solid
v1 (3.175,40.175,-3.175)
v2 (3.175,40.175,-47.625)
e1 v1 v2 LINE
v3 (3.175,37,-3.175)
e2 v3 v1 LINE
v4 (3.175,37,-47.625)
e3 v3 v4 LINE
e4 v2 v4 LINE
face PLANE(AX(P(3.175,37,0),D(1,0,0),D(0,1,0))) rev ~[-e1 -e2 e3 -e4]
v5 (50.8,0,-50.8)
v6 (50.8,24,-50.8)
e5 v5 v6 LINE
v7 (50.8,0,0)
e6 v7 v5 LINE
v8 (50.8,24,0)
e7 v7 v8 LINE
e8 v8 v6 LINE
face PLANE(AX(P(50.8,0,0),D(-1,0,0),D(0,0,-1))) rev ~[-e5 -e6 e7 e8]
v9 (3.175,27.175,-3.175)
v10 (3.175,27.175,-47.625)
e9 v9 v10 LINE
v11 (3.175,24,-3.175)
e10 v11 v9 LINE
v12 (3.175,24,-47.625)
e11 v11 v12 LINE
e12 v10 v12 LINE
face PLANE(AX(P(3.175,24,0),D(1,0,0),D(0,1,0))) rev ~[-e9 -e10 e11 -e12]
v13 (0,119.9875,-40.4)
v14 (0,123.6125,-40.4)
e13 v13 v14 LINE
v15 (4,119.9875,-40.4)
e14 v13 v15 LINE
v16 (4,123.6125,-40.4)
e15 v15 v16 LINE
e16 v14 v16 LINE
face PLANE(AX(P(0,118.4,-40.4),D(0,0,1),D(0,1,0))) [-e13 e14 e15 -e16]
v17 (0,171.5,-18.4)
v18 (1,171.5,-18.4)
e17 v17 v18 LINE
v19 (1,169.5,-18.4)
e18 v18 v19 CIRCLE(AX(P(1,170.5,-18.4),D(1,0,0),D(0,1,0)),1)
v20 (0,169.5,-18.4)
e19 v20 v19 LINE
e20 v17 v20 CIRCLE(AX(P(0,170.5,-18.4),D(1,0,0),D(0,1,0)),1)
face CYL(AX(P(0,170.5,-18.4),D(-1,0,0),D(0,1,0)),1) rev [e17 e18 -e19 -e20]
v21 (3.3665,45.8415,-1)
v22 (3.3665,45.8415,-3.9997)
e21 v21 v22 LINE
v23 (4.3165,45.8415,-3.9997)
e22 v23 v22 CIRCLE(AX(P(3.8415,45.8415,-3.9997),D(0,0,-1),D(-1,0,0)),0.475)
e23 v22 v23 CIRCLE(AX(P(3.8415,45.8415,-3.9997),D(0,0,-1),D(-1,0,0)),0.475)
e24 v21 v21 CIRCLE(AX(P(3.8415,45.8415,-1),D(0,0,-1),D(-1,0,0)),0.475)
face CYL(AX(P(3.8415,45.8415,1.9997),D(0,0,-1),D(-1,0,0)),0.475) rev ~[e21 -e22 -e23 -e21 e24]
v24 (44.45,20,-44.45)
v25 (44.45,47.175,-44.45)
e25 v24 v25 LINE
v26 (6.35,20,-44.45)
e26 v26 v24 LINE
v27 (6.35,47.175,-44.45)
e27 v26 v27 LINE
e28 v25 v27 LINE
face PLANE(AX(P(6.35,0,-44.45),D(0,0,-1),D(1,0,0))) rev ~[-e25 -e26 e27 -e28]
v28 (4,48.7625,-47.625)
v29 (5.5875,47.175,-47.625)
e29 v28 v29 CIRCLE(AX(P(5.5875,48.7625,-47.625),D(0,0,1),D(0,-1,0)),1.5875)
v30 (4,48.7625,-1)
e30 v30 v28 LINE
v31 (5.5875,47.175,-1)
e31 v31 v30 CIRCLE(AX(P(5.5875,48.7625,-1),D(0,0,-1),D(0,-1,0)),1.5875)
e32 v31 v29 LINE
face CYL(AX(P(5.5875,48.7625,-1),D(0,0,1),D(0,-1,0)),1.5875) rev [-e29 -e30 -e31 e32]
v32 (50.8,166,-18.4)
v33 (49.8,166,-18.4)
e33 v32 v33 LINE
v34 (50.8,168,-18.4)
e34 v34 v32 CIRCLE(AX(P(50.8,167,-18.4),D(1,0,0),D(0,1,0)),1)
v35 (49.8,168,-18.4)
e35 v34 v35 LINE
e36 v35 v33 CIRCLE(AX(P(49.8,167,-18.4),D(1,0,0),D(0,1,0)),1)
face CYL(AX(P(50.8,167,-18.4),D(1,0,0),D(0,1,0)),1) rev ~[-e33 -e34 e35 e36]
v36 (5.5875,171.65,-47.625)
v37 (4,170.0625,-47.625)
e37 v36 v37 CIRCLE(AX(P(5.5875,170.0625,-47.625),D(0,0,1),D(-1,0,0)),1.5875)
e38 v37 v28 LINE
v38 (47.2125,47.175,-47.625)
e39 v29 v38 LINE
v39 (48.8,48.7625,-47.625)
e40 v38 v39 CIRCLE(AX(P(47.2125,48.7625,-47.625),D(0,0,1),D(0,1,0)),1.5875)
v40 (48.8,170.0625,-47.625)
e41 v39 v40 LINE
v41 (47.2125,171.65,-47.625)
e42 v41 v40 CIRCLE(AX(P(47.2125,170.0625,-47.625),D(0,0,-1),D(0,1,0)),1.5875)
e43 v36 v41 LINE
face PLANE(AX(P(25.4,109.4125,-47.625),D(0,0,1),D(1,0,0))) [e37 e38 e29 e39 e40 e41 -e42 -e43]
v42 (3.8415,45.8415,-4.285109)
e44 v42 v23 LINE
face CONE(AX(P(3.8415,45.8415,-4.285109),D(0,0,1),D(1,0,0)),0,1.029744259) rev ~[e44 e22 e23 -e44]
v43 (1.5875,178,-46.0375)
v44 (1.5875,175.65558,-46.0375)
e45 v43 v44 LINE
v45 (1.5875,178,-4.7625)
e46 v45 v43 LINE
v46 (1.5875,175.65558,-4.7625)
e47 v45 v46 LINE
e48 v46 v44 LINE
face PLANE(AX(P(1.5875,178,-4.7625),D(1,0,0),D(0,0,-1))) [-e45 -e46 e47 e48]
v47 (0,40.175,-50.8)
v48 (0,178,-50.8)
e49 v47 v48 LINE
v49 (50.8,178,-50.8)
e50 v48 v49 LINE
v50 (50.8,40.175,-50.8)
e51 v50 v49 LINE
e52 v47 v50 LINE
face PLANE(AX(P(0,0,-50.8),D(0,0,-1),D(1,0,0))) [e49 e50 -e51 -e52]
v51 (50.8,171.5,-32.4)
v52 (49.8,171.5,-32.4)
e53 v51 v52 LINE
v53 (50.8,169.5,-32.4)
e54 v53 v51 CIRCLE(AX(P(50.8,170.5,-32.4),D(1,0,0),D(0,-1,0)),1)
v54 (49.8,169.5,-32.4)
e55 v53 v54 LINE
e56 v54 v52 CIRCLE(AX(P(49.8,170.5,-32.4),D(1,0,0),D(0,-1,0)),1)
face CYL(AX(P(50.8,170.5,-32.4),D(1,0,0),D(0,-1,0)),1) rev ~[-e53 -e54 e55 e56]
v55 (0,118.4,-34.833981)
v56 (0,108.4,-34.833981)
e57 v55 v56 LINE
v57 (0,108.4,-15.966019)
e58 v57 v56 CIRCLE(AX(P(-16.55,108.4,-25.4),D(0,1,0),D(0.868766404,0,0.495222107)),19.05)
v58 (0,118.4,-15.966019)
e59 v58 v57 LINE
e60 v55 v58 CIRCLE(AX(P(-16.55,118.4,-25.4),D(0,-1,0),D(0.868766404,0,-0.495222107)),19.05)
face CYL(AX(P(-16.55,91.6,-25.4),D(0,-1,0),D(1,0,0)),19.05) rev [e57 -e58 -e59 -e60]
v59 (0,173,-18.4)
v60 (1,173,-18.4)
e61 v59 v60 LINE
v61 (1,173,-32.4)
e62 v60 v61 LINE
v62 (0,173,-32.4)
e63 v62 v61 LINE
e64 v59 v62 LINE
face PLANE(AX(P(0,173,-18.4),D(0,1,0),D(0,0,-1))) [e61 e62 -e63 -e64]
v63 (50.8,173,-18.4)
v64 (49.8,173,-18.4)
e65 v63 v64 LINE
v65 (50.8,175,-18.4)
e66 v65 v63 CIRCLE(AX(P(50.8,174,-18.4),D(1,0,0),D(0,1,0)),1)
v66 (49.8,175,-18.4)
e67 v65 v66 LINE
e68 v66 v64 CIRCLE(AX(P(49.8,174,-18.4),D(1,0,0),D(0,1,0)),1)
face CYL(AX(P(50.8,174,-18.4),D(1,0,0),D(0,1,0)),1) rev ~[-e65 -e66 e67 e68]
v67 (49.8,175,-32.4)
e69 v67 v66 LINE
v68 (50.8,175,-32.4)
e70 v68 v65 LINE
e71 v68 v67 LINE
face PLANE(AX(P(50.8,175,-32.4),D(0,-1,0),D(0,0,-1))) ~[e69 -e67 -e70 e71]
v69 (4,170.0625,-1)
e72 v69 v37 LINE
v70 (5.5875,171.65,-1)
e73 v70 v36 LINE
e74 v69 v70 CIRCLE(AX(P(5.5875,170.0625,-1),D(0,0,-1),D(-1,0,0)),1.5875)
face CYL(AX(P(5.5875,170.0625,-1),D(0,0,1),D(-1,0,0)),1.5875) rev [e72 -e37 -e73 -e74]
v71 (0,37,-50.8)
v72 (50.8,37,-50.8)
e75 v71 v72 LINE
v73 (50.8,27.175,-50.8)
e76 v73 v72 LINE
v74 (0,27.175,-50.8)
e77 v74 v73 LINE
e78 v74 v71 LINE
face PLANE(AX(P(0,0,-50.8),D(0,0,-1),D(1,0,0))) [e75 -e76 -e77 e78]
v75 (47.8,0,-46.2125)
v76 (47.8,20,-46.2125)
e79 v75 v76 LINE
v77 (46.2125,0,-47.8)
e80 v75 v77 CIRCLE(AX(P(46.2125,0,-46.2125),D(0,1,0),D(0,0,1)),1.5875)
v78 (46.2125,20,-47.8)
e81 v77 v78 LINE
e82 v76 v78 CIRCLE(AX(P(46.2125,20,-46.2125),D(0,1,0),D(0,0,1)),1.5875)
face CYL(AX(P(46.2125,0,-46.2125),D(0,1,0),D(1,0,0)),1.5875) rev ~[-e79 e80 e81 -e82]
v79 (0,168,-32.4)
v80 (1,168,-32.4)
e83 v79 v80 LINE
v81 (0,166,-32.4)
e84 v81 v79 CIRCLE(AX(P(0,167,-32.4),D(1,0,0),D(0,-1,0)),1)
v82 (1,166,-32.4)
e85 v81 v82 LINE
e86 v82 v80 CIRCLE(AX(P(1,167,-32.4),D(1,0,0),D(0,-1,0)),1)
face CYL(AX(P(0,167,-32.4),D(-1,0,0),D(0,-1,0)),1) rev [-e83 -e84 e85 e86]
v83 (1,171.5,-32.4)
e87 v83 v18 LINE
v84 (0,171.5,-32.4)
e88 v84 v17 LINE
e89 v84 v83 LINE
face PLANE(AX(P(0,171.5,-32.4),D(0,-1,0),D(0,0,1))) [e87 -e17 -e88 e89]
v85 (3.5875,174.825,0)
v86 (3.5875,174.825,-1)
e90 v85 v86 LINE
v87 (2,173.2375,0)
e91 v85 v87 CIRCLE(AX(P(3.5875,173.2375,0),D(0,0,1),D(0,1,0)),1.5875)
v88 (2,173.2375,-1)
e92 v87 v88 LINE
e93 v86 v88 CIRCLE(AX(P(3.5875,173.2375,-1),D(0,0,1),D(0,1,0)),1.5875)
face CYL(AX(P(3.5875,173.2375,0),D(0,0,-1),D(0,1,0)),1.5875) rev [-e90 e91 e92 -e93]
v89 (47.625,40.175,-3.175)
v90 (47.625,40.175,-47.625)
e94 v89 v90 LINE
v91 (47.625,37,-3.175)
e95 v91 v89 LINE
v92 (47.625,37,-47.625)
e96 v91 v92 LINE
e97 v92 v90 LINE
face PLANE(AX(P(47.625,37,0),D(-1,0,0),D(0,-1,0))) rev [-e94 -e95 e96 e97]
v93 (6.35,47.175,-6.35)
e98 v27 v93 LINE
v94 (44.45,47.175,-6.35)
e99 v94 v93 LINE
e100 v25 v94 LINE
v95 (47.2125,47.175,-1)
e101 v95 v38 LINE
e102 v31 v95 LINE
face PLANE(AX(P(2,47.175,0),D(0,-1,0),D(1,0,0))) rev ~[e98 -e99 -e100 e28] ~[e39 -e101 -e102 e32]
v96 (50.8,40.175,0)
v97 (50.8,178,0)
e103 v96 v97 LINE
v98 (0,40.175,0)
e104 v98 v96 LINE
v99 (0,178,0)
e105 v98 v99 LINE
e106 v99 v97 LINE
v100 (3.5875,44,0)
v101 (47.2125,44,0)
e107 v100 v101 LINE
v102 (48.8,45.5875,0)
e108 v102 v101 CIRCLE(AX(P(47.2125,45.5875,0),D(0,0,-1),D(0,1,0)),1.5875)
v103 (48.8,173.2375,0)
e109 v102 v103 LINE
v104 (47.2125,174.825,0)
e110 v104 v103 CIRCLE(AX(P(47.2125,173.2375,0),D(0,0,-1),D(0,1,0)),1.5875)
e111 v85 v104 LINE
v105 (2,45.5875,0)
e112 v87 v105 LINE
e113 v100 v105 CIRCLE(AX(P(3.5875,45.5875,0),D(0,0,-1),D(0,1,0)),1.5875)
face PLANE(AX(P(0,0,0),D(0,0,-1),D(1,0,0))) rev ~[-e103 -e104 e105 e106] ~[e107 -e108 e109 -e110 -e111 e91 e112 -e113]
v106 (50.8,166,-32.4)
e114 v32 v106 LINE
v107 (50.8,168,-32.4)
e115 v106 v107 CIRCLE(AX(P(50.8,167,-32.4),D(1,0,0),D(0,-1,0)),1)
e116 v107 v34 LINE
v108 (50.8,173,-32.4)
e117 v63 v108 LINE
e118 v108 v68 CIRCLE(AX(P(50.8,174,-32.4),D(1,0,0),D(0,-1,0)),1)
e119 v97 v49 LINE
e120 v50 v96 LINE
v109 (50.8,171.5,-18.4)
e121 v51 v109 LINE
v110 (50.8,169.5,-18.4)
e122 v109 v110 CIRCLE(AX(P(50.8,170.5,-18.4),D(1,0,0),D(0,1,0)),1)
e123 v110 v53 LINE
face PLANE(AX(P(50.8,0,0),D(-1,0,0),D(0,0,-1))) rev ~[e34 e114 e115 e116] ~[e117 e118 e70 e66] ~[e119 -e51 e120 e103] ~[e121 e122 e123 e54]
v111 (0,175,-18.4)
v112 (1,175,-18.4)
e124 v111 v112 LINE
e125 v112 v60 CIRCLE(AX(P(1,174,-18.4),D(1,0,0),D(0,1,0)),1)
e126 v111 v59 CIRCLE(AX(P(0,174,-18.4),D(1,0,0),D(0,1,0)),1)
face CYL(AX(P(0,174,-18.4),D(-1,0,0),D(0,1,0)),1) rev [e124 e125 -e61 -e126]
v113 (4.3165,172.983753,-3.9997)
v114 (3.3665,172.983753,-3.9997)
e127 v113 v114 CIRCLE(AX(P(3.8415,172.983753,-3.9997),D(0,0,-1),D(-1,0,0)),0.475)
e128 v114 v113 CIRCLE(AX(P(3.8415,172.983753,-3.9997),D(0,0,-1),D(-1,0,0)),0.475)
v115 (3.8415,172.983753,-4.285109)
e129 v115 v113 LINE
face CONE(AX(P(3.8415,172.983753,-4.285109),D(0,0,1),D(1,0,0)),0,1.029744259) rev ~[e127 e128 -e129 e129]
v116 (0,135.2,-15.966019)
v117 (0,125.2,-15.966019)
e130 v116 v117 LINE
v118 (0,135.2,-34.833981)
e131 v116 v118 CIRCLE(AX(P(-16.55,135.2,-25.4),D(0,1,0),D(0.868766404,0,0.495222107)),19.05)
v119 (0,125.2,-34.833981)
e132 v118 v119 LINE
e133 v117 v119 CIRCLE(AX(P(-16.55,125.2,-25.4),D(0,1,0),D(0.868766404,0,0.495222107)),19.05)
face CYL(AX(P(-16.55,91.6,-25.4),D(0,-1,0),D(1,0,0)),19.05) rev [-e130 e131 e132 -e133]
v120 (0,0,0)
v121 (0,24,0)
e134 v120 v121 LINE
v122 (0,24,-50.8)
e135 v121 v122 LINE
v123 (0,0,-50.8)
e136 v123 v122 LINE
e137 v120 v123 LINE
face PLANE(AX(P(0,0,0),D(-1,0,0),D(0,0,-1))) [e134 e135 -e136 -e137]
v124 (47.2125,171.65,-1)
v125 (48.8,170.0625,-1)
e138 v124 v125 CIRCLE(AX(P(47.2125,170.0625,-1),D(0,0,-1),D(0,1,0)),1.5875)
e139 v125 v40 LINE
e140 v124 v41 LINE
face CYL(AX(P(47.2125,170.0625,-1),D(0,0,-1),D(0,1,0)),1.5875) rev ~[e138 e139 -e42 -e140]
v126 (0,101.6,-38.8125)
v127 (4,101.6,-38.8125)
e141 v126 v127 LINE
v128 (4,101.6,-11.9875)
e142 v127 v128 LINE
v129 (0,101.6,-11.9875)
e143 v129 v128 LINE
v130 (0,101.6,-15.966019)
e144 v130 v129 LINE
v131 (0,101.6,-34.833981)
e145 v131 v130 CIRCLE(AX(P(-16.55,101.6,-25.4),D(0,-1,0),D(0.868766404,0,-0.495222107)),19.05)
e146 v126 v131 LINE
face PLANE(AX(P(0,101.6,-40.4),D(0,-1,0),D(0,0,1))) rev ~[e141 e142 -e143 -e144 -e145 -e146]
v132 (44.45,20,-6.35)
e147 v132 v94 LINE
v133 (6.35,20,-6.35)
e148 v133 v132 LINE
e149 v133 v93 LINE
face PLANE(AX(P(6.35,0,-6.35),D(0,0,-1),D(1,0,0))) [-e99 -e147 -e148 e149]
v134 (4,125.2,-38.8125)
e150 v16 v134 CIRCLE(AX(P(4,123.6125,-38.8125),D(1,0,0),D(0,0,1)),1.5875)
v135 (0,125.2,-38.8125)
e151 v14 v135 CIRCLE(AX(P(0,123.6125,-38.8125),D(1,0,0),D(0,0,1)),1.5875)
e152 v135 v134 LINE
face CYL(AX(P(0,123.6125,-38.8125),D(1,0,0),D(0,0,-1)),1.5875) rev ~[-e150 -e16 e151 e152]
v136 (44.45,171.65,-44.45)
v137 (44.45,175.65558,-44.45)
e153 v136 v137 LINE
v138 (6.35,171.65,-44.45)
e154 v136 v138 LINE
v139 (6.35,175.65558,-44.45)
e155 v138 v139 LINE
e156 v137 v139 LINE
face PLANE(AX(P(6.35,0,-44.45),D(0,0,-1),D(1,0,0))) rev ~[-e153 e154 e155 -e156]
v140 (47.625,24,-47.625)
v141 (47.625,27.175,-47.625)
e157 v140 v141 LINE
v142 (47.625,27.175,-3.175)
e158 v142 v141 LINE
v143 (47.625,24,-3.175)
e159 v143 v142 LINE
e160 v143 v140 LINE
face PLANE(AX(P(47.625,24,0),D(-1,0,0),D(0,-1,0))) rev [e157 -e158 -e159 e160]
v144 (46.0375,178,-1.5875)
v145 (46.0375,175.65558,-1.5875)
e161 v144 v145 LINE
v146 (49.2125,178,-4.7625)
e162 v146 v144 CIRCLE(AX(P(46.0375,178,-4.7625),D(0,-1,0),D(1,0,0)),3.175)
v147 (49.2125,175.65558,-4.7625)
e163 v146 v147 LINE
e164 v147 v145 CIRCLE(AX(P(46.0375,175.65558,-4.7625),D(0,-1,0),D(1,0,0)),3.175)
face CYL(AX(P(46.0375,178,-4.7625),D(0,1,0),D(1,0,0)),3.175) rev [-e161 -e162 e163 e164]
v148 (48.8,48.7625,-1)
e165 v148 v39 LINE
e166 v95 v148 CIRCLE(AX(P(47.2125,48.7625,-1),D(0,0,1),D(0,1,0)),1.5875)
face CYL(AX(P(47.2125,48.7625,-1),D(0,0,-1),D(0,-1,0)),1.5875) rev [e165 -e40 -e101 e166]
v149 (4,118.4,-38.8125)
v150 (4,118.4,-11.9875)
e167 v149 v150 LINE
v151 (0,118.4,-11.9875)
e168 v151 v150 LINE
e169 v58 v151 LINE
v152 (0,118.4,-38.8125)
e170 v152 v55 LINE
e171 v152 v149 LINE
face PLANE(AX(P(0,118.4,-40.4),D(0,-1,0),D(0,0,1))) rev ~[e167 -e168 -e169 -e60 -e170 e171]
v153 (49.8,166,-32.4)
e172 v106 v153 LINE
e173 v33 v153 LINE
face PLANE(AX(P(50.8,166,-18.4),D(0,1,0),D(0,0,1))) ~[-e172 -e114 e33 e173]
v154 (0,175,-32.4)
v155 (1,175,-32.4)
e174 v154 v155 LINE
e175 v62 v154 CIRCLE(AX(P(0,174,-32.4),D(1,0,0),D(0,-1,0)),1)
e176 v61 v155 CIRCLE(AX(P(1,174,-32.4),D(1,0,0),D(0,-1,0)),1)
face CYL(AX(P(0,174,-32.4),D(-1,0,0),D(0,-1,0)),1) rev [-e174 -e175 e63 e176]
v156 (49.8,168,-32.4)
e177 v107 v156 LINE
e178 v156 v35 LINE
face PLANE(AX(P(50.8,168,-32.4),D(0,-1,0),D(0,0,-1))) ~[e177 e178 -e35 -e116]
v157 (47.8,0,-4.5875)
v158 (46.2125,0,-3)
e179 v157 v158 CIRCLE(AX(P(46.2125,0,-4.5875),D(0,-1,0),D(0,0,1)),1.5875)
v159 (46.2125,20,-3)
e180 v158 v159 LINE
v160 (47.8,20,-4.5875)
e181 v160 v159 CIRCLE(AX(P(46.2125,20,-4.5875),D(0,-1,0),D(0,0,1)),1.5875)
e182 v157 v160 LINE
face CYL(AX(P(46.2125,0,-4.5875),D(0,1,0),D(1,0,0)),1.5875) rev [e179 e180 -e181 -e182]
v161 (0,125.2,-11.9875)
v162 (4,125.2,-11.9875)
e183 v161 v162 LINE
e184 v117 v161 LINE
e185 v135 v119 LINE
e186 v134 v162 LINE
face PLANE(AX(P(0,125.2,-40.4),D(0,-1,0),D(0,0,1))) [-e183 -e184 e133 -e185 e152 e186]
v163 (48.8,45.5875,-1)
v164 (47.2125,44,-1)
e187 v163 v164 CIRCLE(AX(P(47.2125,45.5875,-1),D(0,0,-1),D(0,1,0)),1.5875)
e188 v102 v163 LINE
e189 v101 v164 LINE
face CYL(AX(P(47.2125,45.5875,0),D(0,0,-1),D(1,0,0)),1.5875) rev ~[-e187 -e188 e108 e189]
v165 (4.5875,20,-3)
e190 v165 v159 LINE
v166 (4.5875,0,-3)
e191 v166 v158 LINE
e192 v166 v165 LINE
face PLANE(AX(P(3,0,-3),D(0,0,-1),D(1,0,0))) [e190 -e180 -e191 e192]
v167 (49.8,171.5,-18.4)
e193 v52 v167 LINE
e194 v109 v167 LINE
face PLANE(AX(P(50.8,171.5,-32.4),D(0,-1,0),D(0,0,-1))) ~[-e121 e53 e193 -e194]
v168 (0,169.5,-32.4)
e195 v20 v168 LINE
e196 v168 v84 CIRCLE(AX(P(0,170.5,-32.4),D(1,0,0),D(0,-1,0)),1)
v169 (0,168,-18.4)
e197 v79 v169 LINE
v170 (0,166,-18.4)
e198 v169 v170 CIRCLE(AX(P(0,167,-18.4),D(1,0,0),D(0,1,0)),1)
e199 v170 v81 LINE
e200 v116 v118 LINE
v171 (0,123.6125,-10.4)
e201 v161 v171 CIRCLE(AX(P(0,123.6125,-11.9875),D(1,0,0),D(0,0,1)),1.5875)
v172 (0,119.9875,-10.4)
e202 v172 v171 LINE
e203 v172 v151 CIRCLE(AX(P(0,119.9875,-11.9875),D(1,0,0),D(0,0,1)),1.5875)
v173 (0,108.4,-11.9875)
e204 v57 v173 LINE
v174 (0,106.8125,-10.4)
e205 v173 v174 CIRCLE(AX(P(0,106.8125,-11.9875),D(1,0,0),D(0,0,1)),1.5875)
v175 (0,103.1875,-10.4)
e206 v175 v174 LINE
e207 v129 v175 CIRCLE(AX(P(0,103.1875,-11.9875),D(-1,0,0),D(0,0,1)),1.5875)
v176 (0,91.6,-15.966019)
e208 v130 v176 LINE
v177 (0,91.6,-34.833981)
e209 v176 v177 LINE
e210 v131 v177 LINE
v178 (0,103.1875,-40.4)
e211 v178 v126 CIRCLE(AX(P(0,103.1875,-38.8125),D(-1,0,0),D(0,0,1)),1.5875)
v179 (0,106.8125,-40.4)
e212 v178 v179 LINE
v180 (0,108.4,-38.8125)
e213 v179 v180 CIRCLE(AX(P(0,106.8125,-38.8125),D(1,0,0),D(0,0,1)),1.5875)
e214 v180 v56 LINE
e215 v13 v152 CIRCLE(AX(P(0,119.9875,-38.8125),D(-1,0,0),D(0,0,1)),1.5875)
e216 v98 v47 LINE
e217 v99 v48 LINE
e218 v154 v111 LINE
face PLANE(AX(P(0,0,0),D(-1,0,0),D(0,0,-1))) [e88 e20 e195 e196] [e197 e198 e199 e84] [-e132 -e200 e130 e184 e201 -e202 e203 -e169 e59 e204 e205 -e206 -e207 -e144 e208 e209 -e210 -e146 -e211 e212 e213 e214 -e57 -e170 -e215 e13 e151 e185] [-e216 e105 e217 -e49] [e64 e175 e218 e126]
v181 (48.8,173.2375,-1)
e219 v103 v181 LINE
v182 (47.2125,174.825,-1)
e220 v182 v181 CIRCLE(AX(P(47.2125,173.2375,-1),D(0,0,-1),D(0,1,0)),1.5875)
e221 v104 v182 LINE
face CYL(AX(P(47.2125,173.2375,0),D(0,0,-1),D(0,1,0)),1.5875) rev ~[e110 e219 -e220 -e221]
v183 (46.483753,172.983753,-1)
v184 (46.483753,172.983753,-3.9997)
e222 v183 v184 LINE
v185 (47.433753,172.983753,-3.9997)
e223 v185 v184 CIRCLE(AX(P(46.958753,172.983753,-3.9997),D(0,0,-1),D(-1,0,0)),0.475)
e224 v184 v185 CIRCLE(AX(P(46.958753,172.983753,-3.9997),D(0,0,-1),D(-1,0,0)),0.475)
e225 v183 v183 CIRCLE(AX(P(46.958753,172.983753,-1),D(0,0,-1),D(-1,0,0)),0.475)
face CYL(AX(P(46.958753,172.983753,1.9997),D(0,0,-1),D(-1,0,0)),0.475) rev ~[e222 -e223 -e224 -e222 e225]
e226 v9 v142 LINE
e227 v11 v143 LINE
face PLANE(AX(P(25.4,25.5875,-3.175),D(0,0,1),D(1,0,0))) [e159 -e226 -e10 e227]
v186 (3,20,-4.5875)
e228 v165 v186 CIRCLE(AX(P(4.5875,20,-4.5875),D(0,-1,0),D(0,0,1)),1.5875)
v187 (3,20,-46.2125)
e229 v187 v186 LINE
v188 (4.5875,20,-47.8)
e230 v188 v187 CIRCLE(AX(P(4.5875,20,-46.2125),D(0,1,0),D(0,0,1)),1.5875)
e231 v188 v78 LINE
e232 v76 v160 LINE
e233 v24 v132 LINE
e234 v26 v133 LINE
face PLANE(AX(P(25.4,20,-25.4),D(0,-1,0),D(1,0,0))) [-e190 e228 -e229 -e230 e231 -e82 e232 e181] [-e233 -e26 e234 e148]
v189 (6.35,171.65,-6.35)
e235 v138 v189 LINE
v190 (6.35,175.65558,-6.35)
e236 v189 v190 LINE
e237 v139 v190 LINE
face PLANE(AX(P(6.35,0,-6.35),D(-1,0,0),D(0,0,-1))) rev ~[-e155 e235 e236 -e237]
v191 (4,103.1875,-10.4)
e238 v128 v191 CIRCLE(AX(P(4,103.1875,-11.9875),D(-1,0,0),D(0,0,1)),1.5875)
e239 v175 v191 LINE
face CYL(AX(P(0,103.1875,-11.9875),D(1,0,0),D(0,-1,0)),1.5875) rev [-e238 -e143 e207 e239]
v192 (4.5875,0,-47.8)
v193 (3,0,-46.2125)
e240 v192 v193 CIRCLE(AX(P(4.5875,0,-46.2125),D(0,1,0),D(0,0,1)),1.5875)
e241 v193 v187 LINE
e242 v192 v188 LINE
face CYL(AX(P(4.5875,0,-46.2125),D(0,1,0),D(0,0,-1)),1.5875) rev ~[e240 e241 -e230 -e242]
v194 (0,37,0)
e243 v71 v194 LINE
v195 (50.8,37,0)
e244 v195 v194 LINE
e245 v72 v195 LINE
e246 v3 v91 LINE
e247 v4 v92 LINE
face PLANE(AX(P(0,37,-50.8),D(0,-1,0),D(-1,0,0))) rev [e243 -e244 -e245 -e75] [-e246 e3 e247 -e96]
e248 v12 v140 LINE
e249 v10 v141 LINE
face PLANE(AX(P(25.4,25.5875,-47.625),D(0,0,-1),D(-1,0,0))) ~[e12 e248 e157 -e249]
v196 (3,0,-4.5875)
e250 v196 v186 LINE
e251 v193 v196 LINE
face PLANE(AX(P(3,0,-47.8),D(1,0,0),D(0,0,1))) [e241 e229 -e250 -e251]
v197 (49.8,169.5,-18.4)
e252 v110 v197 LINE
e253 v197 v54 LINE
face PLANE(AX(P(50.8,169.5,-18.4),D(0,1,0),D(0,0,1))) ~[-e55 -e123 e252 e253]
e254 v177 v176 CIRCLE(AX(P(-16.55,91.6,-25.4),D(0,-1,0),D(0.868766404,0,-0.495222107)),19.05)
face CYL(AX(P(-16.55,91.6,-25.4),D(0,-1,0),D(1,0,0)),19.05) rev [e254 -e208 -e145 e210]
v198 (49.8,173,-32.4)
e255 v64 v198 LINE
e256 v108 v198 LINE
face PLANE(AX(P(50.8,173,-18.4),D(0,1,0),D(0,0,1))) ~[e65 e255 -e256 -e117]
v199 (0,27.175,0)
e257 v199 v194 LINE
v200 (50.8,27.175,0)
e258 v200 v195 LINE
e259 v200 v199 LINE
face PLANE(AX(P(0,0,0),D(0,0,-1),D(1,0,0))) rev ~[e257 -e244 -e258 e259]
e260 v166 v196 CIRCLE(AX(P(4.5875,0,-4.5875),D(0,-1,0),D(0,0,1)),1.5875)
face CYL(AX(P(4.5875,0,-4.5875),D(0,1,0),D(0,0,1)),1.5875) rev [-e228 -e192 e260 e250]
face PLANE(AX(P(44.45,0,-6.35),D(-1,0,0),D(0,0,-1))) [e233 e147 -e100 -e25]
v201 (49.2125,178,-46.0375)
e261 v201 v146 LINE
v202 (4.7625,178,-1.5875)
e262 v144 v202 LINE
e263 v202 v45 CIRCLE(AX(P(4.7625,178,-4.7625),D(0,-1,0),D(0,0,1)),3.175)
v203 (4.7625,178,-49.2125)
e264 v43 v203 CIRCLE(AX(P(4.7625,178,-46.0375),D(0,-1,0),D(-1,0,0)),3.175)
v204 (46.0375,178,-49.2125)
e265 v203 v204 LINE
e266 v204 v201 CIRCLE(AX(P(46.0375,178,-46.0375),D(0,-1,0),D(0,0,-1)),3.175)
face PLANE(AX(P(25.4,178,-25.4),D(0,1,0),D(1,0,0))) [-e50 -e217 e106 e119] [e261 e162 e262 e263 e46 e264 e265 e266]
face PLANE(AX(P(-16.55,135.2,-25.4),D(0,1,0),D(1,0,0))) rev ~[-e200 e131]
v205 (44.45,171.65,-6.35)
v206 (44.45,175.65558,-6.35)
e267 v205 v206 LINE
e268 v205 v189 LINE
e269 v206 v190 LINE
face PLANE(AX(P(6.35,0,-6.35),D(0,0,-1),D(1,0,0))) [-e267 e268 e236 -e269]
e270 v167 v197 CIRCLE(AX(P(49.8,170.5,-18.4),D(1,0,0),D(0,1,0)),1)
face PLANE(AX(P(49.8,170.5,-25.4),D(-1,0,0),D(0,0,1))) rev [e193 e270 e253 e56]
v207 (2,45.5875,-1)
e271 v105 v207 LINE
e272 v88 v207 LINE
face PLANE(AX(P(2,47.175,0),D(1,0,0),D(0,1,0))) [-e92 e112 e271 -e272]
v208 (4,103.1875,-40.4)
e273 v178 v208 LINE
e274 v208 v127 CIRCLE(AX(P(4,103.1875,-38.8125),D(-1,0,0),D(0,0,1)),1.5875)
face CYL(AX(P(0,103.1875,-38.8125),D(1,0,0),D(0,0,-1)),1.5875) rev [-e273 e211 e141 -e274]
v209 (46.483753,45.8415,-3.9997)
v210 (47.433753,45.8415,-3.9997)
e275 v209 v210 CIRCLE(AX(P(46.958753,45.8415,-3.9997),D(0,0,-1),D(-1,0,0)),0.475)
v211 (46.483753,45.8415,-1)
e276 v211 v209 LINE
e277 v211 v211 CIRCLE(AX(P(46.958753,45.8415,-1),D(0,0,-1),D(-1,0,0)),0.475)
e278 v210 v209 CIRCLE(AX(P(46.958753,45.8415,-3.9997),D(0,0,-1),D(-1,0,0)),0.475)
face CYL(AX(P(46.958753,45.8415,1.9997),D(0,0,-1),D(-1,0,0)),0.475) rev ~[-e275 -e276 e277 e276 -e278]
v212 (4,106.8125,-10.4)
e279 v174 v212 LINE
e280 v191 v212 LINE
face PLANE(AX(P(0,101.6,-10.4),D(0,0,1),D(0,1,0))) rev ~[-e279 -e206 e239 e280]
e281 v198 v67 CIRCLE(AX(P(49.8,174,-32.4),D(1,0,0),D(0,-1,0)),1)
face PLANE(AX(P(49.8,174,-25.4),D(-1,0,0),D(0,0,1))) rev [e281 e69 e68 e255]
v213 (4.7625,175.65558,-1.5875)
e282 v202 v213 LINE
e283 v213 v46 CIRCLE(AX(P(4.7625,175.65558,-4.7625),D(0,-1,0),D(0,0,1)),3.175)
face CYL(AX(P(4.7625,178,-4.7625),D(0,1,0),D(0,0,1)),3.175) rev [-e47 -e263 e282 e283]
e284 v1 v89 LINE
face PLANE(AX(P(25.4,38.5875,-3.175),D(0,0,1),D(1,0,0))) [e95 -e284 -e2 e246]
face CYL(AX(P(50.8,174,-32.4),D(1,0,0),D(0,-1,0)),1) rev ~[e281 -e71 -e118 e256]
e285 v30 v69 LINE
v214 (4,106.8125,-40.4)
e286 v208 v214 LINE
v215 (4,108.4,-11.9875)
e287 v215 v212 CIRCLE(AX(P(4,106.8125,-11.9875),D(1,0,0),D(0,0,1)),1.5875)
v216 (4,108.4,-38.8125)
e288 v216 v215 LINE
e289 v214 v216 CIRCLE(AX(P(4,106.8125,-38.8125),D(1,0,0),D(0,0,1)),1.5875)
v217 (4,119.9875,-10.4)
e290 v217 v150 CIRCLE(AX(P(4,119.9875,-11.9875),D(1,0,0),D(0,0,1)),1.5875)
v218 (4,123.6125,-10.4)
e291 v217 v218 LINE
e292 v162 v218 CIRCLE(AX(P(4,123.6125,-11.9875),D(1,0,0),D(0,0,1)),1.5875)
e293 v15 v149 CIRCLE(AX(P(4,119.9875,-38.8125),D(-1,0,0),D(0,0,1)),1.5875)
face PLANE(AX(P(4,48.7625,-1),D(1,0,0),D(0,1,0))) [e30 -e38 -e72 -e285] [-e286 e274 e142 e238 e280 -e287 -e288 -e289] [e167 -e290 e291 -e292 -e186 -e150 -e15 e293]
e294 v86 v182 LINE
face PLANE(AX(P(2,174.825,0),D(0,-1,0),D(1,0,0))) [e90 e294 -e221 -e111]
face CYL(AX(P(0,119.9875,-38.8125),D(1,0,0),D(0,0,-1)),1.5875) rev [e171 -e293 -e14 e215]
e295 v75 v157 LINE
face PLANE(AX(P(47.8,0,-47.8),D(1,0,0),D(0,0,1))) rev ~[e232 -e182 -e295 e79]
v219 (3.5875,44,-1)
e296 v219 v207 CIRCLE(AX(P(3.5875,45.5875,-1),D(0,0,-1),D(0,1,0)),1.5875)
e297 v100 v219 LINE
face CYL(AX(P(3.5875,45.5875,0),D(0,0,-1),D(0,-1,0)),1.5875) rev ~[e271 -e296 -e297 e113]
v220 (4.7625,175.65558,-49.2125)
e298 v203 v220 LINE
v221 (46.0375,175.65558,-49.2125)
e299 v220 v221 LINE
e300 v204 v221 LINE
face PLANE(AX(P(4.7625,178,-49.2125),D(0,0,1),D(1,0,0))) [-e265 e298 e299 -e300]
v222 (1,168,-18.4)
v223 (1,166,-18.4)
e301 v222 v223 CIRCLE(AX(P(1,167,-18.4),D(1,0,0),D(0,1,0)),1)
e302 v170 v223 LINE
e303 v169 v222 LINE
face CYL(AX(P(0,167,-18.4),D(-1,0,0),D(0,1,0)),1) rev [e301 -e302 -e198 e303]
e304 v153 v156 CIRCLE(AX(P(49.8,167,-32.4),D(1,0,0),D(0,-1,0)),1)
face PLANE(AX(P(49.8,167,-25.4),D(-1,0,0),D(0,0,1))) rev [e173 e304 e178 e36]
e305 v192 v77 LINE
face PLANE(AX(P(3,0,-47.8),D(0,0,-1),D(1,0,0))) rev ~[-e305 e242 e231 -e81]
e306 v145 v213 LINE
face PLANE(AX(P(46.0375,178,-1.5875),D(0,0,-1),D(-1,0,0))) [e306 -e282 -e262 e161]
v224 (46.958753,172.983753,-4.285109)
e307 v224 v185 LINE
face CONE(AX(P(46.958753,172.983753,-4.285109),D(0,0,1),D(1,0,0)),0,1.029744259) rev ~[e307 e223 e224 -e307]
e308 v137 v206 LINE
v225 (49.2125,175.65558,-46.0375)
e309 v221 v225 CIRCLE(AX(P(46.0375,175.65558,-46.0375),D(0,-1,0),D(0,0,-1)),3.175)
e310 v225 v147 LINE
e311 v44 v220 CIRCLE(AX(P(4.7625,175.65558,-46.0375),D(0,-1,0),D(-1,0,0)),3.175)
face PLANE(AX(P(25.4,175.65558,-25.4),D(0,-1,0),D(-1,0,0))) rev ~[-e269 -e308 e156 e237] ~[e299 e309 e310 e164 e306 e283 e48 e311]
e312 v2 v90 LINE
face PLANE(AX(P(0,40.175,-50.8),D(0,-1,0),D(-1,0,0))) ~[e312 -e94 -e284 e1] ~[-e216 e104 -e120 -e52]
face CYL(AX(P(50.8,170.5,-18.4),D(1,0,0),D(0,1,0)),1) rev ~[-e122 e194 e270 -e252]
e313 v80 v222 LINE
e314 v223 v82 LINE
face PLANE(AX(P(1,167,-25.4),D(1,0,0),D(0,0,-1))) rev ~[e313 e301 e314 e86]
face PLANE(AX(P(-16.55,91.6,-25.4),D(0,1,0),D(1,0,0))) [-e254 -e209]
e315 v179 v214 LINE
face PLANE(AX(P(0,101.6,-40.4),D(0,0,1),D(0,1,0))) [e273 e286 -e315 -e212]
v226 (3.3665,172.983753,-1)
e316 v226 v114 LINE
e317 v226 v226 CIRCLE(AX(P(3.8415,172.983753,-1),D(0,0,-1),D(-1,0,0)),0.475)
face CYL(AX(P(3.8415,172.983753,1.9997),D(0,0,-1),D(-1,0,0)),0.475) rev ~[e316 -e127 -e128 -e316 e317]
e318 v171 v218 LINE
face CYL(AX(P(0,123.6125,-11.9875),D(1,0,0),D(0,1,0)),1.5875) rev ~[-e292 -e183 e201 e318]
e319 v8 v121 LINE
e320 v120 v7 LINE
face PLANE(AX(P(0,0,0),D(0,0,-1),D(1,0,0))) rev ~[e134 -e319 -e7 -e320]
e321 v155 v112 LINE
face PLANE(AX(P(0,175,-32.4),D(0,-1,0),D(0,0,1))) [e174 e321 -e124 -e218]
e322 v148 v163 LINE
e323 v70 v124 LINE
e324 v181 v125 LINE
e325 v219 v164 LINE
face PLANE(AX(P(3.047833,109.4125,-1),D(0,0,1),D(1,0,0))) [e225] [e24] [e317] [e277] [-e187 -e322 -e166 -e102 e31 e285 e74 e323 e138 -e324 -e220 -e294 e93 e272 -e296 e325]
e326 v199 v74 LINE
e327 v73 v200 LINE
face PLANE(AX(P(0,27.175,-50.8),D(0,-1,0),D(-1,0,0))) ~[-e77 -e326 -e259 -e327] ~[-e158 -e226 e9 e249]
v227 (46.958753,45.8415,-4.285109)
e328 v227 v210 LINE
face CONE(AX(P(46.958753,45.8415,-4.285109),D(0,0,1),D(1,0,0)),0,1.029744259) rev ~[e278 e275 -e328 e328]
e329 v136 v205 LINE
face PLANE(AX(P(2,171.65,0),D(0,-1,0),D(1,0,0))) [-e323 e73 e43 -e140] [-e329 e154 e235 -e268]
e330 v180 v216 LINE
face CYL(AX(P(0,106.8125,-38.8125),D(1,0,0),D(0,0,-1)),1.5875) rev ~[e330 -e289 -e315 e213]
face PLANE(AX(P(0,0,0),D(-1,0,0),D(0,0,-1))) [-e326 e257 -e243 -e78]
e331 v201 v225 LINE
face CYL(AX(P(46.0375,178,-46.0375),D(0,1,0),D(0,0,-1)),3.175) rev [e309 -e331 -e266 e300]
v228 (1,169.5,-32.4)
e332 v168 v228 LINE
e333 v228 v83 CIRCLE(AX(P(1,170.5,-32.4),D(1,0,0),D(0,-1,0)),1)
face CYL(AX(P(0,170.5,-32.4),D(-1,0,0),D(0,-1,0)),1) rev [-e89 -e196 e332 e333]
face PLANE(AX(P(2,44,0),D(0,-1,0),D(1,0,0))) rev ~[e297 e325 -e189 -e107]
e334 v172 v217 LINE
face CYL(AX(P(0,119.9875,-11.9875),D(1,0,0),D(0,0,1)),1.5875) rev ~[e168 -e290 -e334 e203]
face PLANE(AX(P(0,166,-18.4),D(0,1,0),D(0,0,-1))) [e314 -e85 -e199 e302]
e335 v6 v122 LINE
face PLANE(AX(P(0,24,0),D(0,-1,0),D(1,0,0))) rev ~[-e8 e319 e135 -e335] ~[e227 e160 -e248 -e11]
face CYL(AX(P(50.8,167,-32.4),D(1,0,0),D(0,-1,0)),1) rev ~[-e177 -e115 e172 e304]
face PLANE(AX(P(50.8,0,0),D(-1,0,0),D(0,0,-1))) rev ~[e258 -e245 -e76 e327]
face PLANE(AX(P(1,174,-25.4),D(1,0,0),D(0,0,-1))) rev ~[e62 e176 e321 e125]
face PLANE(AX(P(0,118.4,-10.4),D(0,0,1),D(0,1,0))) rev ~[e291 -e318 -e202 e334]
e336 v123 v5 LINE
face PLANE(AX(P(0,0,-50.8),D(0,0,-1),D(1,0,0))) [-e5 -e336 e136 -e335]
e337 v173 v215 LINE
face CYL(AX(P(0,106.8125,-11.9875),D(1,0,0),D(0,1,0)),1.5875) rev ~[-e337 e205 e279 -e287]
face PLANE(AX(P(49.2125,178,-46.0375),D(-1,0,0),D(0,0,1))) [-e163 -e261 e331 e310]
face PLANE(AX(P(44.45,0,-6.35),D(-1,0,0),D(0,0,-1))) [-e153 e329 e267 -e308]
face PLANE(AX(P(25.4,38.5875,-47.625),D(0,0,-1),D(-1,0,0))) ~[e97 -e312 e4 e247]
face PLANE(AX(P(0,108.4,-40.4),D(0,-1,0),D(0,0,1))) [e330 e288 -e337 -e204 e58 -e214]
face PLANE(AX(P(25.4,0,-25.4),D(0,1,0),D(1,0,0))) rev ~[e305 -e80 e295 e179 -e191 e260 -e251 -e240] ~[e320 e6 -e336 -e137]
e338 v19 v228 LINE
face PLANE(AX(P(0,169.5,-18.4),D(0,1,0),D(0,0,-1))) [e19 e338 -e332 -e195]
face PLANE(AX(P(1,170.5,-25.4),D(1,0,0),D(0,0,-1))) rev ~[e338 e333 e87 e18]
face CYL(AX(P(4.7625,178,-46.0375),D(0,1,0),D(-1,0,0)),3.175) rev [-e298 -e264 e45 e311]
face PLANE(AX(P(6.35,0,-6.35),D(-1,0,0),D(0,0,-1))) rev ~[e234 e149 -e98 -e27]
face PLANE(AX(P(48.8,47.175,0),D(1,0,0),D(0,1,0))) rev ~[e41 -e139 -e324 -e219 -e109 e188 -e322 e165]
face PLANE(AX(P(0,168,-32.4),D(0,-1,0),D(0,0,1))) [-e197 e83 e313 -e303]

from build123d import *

# Parameters (mm, degrees)
SKETCH1_W                    = 50.8
SKETCH1_H                    = 50.8
SKETCH1_W_2                  = 38.1
SKETCH1_H_2                  = 38.1
BOSS_EXTRUDE1_DEPTH          = 178
SKETCH2_W                    = 44.8
SKETCH2_H                    = 44.8
SKETCH2_W_2                  = 38.1
SKETCH2_H_2                  = 38.1
CUT_EXTRUDE1_DEPTH           = 20
SKETCH3_W                    = 46.8
SKETCH3_H                    = 124.475000116
CUT_EXTRUDE2_DEPTH           = 47.625
SKETCH4_W                    = 50.8
SKETCH4_H                    = 3.175
CUT_EXTRUDE3_DEPTH           = 3.175
SKETCH5_W                    = 3.175
SKETCH5_H                    = 3.175
CUT_EXTRUDE4_DEPTH           = 192.951243809
CUT_EXTRUDE5_DEPTH           = 1
SKETCH7_W                    = 46.8
SKETCH7_H                    = 3.175
CUT_EXTRUDE6_DEPTH           = 1
FILLET1_R                    = 1.5875
CUT_EXTRUDE7_DEPTH           = 2.34442
M1_2X0_25_TAPPED_HOLE1_D     = 0.95
M1_2X0_25_TAPPED_HOLE1_DEPTH = 2.9997
M1_2X0_25_TAPPED_HOLE1_TIP   = 0.285408794
BOSS_EXTRUDE2_REACH          = 193.689
CUT_EXTRUDE8_REACH           = 193.951
SKETCH15_W                   = 30
SKETCH15_H                   = 6.8
FILLET2_R                    = 1.5875
CUT_EXTRUDE9_DEPTH           = 21.8
CUT_EXTRUDE9_DEPTH_BACK      = 21.8
SKETCH20_R                   = 19.05


with BuildPart() as part:
    # Sketch1 → Boss-Extrude1 (new body)
    with BuildSketch(Plane(origin=(0, 0, 0), x_dir=(1, 0, 0), z_dir=(0, 1, 0))):
        with Locations((25.4, 25.4)):
            Rectangle(SKETCH1_W, SKETCH1_H)
        with Locations((25.4, 25.4)):
            Rectangle(SKETCH1_W_2, SKETCH1_H_2, mode=Mode.SUBTRACT)
    extrude(amount=BOSS_EXTRUDE1_DEPTH)

    # Sketch2 → Cut-Extrude1 (cut)
    with BuildSketch(Plane.XZ):
        with Locations((25.4, -25.4)):
            Rectangle(SKETCH2_W, SKETCH2_H)
        with Locations((25.4, -25.4)):
            Rectangle(SKETCH2_W_2, SKETCH2_H_2, mode=Mode.SUBTRACT)
    extrude(amount=-CUT_EXTRUDE1_DEPTH, mode=Mode.SUBTRACT)

    # Sketch3 → Cut-Extrude2 (cut)
    with BuildSketch(Plane.XY):
        with Locations((25.4, 109.412499942)):
            Rectangle(SKETCH3_W, SKETCH3_H)
    extrude(amount=-CUT_EXTRUDE2_DEPTH, mode=Mode.SUBTRACT)

    # Sketch4 → Cut-Extrude3 (cut)
    with BuildSketch(Plane.XY):
        with Locations((25.4, 25.5875)):
            Rectangle(SKETCH4_W, SKETCH4_H)
        with Locations((25.4, 38.5875)):
            Rectangle(SKETCH4_W, SKETCH4_H)
    cut_extrude3 = extrude(amount=-CUT_EXTRUDE3_DEPTH, mode=Mode.SUBTRACT)

    # Sketch5 → Cut-Extrude4 (cut, through all)
    with BuildSketch(Plane.XY):
        with Locations((1.5875, 38.5875)):
            Rectangle(SKETCH5_W, SKETCH5_H)
        with Locations((1.5875, 25.5875)):
            Rectangle(SKETCH5_W, SKETCH5_H)
    cut_extrude4 = extrude(amount=-CUT_EXTRUDE4_DEPTH, mode=Mode.SUBTRACT)

    # Sketch6 → Cut-Extrude5 (cut)
    with BuildSketch(Plane.ZY):
        with BuildLine():
            Line((-32.4, 175), (-18.4, 175))
            ThreePointArc((-18.4, 175), (-17.4, 174), (-18.4, 173))
            Line((-18.4, 173), (-32.4, 173))
            ThreePointArc((-32.4, 173), (-33.4, 174), (-32.4, 175))
        make_face()
        with BuildLine():
            Line((-32.4, 171.5), (-18.4, 171.5))
            ThreePointArc((-18.4, 171.5), (-17.4, 170.5), (-18.4, 169.5))
            Line((-18.4, 169.5), (-32.4, 169.5))
            ThreePointArc((-32.4, 169.5), (-33.4, 170.5), (-32.4, 171.5))
        make_face()
        with BuildLine():
            Line((-32.4, 168), (-18.4, 168))
            ThreePointArc((-18.4, 168), (-17.4, 167), (-18.4, 166))
            Line((-18.4, 166), (-32.4, 166))
            ThreePointArc((-32.4, 166), (-33.4, 167), (-32.4, 168))
        make_face()
    cut_extrude5 = extrude(amount=-CUT_EXTRUDE5_DEPTH, mode=Mode.SUBTRACT)

    # Mirror1: Cut-Extrude3 across plane
    add(cut_extrude3.mirror(Plane.XY.offset(-25.4)), mode=Mode.SUBTRACT)

    # Mirror2: Cut-Extrude4, Cut-Extrude5 across plane
    add(cut_extrude4.mirror(Plane.ZY.offset(-25.4)), mode=Mode.SUBTRACT)
    add(cut_extrude5.mirror(Plane.ZY.offset(-25.4)), mode=Mode.SUBTRACT)

    # Sketch7 → Cut-Extrude6 (cut)
    with BuildSketch(Plane.XY):
        with Locations((25.4, 173.2375)):
            Rectangle(SKETCH7_W, SKETCH7_H)
        with Locations((25.4, 45.587499884)):
            Rectangle(SKETCH7_W, SKETCH7_H)
    extrude(amount=-CUT_EXTRUDE6_DEPTH, mode=Mode.SUBTRACT)

    # Fillet1
    fillet1_edges = [part.edges().sort_by_distance(p)[0] for p in [
        (47.8, 10, -3),
        (47.8, 10, -47.8),
        (2, 174.825, -0.5),
        (48.8, 174.825, -0.5),
        (3, 10, -47.8),
        (2, 43.999999884, -0.5),
        (3, 10, -3),
        (48.8, 43.999999884, -0.5),
        (2, 47.174999884, -24.3125),
        (2, 171.65, -24.3125),
        (48.8, 171.65, -24.3125),
        (48.8, 47.174999884, -24.3125),
    ]]
    fillet(fillet1_edges, radius=FILLET1_R)

    # Sketch8 → Cut-Extrude7 (cut)
    with BuildSketch(Plane(origin=(0, 178, 0), x_dir=(1, 0, 0), z_dir=(0, 1, 0))):
        with BuildLine():
            Line((4.7625, 49.2125), (46.0375, 49.2125))
            ThreePointArc((46.0375, 49.2125), (48.28256403, 48.28256403), (49.2125, 46.0375))
            Line((49.2125, 46.0375), (49.2125, 4.7625))
            ThreePointArc((49.2125, 4.7625), (48.28256403, 2.51743597), (46.0375, 1.5875))
            Line((46.0375, 1.5875), (4.7625, 1.5875))
            ThreePointArc((4.7625, 1.5875), (2.51743597, 2.51743597), (1.5875, 4.7625))
            Line((1.5875, 4.7625), (1.5875, 46.0375))
            ThreePointArc((1.5875, 46.0375), (2.51743597, 48.28256403), (4.7625, 49.2125))
        make_face()
    extrude(amount=-CUT_EXTRUDE7_DEPTH, mode=Mode.SUBTRACT)

    # M1.2x0.25 Tapped Hole1
    with Locations(Plane.XY.offset(-1)):
        with Locations((3.8415, 172.98375321), (46.95875321, 172.98375321), (3.8415, 45.841499884), (46.95875321, 45.841499884)):
            Hole(M1_2X0_25_TAPPED_HOLE1_D / 2, depth=M1_2X0_25_TAPPED_HOLE1_DEPTH)
            with Locations((0, 0, -(M1_2X0_25_TAPPED_HOLE1_DEPTH + M1_2X0_25_TAPPED_HOLE1_TIP / 2))):  # 118° drill point
                Cone(0, M1_2X0_25_TAPPED_HOLE1_D / 2, M1_2X0_25_TAPPED_HOLE1_TIP, mode=Mode.SUBTRACT)

    # Sketch17 → Boss-Extrude2 (add, up to next)
    with BuildSketch(Plane.XY.offset(-1), mode=Mode.PRIVATE) as boss_extrude2_sk1:
        with BuildLine():
            Line((2, 170.0625), (2, 48.762499884))
            ThreePointArc((2, 48.762499884), (2.464967985, 47.639967869), (3.5875, 47.174999884))
            Line((3.5875, 47.174999884), (5.5875, 47.174999884))
            ThreePointArc((5.5875, 47.174999884), (4.464967985, 47.639967869), (4, 48.762499884))
            Line((4, 48.762499884), (4, 170.0625))
            ThreePointArc((4, 170.0625), (4.464967985, 171.185032015), (5.5875, 171.65))
            Line((5.5875, 171.65), (3.5875, 171.65))
            ThreePointArc((3.5875, 171.65), (2.464967985, 171.185032015), (2, 170.0625))
        make_face()
    boss_extrude2_tool1 = extrude(boss_extrude2_sk1.sketch, amount=-BOSS_EXTRUDE2_REACH, mode=Mode.PRIVATE) - part.part
    add(boss_extrude2_tool1.solids().sort_by_distance((3.00869, 109.4125, -1))[0])

    # Sketch15 → Cut-Extrude8 (cut, up to next)
    with BuildSketch(Plane.ZY, mode=Mode.PRIVATE) as cut_extrude8_sk1:
        with Locations((-25.4, 105)):
            Rectangle(SKETCH15_W, SKETCH15_H)
    cut_extrude8_tool1 = extrude(cut_extrude8_sk1.sketch, amount=-CUT_EXTRUDE8_REACH, mode=Mode.PRIVATE) & part.part
    # Sketch15 → Cut-Extrude8 (cut, up to next)
    with BuildSketch(Plane.ZY, mode=Mode.PRIVATE) as cut_extrude8_sk2:
        with Locations((-25.4, 121.8)):
            Rectangle(SKETCH15_W, SKETCH15_H)
    cut_extrude8_tool2 = extrude(cut_extrude8_sk2.sketch, amount=-CUT_EXTRUDE8_REACH, mode=Mode.PRIVATE) & part.part
    add(cut_extrude8_tool1.solids().sort_by_distance((0, 105, -25.4))[0], mode=Mode.SUBTRACT)
    add(cut_extrude8_tool2.solids().sort_by_distance((0, 121.8, -25.4))[0], mode=Mode.SUBTRACT)

    # Fillet2
    fillet2_edges = [part.edges().sort_by_distance(p)[0] for p in [
        (2, 101.6, -10.4),
        (2, 108.4, -10.4),
        (2, 108.4, -40.4),
        (2, 101.6, -40.4),
        (2, 118.4, -10.4),
        (2, 125.2, -10.4),
        (2, 125.2, -40.4),
        (2, 118.4, -40.4),
    ]]
    fillet(fillet2_edges, radius=FILLET2_R)

    # Sketch20 → Cut-Extrude9 (cut, two sides: drawn at the far end of the back side and taken through both)
    with BuildSketch(Plane(origin=(0, 113.4, 0), x_dir=(1, 0, 0), z_dir=(0, 1, 0)).offset(-CUT_EXTRUDE9_DEPTH_BACK)):
        with Locations((-16.55, 25.4)):
            Circle(SKETCH20_R)
    extrude(amount=CUT_EXTRUDE9_DEPTH + CUT_EXTRUDE9_DEPTH_BACK, mode=Mode.SUBTRACT)


solid = part.part
